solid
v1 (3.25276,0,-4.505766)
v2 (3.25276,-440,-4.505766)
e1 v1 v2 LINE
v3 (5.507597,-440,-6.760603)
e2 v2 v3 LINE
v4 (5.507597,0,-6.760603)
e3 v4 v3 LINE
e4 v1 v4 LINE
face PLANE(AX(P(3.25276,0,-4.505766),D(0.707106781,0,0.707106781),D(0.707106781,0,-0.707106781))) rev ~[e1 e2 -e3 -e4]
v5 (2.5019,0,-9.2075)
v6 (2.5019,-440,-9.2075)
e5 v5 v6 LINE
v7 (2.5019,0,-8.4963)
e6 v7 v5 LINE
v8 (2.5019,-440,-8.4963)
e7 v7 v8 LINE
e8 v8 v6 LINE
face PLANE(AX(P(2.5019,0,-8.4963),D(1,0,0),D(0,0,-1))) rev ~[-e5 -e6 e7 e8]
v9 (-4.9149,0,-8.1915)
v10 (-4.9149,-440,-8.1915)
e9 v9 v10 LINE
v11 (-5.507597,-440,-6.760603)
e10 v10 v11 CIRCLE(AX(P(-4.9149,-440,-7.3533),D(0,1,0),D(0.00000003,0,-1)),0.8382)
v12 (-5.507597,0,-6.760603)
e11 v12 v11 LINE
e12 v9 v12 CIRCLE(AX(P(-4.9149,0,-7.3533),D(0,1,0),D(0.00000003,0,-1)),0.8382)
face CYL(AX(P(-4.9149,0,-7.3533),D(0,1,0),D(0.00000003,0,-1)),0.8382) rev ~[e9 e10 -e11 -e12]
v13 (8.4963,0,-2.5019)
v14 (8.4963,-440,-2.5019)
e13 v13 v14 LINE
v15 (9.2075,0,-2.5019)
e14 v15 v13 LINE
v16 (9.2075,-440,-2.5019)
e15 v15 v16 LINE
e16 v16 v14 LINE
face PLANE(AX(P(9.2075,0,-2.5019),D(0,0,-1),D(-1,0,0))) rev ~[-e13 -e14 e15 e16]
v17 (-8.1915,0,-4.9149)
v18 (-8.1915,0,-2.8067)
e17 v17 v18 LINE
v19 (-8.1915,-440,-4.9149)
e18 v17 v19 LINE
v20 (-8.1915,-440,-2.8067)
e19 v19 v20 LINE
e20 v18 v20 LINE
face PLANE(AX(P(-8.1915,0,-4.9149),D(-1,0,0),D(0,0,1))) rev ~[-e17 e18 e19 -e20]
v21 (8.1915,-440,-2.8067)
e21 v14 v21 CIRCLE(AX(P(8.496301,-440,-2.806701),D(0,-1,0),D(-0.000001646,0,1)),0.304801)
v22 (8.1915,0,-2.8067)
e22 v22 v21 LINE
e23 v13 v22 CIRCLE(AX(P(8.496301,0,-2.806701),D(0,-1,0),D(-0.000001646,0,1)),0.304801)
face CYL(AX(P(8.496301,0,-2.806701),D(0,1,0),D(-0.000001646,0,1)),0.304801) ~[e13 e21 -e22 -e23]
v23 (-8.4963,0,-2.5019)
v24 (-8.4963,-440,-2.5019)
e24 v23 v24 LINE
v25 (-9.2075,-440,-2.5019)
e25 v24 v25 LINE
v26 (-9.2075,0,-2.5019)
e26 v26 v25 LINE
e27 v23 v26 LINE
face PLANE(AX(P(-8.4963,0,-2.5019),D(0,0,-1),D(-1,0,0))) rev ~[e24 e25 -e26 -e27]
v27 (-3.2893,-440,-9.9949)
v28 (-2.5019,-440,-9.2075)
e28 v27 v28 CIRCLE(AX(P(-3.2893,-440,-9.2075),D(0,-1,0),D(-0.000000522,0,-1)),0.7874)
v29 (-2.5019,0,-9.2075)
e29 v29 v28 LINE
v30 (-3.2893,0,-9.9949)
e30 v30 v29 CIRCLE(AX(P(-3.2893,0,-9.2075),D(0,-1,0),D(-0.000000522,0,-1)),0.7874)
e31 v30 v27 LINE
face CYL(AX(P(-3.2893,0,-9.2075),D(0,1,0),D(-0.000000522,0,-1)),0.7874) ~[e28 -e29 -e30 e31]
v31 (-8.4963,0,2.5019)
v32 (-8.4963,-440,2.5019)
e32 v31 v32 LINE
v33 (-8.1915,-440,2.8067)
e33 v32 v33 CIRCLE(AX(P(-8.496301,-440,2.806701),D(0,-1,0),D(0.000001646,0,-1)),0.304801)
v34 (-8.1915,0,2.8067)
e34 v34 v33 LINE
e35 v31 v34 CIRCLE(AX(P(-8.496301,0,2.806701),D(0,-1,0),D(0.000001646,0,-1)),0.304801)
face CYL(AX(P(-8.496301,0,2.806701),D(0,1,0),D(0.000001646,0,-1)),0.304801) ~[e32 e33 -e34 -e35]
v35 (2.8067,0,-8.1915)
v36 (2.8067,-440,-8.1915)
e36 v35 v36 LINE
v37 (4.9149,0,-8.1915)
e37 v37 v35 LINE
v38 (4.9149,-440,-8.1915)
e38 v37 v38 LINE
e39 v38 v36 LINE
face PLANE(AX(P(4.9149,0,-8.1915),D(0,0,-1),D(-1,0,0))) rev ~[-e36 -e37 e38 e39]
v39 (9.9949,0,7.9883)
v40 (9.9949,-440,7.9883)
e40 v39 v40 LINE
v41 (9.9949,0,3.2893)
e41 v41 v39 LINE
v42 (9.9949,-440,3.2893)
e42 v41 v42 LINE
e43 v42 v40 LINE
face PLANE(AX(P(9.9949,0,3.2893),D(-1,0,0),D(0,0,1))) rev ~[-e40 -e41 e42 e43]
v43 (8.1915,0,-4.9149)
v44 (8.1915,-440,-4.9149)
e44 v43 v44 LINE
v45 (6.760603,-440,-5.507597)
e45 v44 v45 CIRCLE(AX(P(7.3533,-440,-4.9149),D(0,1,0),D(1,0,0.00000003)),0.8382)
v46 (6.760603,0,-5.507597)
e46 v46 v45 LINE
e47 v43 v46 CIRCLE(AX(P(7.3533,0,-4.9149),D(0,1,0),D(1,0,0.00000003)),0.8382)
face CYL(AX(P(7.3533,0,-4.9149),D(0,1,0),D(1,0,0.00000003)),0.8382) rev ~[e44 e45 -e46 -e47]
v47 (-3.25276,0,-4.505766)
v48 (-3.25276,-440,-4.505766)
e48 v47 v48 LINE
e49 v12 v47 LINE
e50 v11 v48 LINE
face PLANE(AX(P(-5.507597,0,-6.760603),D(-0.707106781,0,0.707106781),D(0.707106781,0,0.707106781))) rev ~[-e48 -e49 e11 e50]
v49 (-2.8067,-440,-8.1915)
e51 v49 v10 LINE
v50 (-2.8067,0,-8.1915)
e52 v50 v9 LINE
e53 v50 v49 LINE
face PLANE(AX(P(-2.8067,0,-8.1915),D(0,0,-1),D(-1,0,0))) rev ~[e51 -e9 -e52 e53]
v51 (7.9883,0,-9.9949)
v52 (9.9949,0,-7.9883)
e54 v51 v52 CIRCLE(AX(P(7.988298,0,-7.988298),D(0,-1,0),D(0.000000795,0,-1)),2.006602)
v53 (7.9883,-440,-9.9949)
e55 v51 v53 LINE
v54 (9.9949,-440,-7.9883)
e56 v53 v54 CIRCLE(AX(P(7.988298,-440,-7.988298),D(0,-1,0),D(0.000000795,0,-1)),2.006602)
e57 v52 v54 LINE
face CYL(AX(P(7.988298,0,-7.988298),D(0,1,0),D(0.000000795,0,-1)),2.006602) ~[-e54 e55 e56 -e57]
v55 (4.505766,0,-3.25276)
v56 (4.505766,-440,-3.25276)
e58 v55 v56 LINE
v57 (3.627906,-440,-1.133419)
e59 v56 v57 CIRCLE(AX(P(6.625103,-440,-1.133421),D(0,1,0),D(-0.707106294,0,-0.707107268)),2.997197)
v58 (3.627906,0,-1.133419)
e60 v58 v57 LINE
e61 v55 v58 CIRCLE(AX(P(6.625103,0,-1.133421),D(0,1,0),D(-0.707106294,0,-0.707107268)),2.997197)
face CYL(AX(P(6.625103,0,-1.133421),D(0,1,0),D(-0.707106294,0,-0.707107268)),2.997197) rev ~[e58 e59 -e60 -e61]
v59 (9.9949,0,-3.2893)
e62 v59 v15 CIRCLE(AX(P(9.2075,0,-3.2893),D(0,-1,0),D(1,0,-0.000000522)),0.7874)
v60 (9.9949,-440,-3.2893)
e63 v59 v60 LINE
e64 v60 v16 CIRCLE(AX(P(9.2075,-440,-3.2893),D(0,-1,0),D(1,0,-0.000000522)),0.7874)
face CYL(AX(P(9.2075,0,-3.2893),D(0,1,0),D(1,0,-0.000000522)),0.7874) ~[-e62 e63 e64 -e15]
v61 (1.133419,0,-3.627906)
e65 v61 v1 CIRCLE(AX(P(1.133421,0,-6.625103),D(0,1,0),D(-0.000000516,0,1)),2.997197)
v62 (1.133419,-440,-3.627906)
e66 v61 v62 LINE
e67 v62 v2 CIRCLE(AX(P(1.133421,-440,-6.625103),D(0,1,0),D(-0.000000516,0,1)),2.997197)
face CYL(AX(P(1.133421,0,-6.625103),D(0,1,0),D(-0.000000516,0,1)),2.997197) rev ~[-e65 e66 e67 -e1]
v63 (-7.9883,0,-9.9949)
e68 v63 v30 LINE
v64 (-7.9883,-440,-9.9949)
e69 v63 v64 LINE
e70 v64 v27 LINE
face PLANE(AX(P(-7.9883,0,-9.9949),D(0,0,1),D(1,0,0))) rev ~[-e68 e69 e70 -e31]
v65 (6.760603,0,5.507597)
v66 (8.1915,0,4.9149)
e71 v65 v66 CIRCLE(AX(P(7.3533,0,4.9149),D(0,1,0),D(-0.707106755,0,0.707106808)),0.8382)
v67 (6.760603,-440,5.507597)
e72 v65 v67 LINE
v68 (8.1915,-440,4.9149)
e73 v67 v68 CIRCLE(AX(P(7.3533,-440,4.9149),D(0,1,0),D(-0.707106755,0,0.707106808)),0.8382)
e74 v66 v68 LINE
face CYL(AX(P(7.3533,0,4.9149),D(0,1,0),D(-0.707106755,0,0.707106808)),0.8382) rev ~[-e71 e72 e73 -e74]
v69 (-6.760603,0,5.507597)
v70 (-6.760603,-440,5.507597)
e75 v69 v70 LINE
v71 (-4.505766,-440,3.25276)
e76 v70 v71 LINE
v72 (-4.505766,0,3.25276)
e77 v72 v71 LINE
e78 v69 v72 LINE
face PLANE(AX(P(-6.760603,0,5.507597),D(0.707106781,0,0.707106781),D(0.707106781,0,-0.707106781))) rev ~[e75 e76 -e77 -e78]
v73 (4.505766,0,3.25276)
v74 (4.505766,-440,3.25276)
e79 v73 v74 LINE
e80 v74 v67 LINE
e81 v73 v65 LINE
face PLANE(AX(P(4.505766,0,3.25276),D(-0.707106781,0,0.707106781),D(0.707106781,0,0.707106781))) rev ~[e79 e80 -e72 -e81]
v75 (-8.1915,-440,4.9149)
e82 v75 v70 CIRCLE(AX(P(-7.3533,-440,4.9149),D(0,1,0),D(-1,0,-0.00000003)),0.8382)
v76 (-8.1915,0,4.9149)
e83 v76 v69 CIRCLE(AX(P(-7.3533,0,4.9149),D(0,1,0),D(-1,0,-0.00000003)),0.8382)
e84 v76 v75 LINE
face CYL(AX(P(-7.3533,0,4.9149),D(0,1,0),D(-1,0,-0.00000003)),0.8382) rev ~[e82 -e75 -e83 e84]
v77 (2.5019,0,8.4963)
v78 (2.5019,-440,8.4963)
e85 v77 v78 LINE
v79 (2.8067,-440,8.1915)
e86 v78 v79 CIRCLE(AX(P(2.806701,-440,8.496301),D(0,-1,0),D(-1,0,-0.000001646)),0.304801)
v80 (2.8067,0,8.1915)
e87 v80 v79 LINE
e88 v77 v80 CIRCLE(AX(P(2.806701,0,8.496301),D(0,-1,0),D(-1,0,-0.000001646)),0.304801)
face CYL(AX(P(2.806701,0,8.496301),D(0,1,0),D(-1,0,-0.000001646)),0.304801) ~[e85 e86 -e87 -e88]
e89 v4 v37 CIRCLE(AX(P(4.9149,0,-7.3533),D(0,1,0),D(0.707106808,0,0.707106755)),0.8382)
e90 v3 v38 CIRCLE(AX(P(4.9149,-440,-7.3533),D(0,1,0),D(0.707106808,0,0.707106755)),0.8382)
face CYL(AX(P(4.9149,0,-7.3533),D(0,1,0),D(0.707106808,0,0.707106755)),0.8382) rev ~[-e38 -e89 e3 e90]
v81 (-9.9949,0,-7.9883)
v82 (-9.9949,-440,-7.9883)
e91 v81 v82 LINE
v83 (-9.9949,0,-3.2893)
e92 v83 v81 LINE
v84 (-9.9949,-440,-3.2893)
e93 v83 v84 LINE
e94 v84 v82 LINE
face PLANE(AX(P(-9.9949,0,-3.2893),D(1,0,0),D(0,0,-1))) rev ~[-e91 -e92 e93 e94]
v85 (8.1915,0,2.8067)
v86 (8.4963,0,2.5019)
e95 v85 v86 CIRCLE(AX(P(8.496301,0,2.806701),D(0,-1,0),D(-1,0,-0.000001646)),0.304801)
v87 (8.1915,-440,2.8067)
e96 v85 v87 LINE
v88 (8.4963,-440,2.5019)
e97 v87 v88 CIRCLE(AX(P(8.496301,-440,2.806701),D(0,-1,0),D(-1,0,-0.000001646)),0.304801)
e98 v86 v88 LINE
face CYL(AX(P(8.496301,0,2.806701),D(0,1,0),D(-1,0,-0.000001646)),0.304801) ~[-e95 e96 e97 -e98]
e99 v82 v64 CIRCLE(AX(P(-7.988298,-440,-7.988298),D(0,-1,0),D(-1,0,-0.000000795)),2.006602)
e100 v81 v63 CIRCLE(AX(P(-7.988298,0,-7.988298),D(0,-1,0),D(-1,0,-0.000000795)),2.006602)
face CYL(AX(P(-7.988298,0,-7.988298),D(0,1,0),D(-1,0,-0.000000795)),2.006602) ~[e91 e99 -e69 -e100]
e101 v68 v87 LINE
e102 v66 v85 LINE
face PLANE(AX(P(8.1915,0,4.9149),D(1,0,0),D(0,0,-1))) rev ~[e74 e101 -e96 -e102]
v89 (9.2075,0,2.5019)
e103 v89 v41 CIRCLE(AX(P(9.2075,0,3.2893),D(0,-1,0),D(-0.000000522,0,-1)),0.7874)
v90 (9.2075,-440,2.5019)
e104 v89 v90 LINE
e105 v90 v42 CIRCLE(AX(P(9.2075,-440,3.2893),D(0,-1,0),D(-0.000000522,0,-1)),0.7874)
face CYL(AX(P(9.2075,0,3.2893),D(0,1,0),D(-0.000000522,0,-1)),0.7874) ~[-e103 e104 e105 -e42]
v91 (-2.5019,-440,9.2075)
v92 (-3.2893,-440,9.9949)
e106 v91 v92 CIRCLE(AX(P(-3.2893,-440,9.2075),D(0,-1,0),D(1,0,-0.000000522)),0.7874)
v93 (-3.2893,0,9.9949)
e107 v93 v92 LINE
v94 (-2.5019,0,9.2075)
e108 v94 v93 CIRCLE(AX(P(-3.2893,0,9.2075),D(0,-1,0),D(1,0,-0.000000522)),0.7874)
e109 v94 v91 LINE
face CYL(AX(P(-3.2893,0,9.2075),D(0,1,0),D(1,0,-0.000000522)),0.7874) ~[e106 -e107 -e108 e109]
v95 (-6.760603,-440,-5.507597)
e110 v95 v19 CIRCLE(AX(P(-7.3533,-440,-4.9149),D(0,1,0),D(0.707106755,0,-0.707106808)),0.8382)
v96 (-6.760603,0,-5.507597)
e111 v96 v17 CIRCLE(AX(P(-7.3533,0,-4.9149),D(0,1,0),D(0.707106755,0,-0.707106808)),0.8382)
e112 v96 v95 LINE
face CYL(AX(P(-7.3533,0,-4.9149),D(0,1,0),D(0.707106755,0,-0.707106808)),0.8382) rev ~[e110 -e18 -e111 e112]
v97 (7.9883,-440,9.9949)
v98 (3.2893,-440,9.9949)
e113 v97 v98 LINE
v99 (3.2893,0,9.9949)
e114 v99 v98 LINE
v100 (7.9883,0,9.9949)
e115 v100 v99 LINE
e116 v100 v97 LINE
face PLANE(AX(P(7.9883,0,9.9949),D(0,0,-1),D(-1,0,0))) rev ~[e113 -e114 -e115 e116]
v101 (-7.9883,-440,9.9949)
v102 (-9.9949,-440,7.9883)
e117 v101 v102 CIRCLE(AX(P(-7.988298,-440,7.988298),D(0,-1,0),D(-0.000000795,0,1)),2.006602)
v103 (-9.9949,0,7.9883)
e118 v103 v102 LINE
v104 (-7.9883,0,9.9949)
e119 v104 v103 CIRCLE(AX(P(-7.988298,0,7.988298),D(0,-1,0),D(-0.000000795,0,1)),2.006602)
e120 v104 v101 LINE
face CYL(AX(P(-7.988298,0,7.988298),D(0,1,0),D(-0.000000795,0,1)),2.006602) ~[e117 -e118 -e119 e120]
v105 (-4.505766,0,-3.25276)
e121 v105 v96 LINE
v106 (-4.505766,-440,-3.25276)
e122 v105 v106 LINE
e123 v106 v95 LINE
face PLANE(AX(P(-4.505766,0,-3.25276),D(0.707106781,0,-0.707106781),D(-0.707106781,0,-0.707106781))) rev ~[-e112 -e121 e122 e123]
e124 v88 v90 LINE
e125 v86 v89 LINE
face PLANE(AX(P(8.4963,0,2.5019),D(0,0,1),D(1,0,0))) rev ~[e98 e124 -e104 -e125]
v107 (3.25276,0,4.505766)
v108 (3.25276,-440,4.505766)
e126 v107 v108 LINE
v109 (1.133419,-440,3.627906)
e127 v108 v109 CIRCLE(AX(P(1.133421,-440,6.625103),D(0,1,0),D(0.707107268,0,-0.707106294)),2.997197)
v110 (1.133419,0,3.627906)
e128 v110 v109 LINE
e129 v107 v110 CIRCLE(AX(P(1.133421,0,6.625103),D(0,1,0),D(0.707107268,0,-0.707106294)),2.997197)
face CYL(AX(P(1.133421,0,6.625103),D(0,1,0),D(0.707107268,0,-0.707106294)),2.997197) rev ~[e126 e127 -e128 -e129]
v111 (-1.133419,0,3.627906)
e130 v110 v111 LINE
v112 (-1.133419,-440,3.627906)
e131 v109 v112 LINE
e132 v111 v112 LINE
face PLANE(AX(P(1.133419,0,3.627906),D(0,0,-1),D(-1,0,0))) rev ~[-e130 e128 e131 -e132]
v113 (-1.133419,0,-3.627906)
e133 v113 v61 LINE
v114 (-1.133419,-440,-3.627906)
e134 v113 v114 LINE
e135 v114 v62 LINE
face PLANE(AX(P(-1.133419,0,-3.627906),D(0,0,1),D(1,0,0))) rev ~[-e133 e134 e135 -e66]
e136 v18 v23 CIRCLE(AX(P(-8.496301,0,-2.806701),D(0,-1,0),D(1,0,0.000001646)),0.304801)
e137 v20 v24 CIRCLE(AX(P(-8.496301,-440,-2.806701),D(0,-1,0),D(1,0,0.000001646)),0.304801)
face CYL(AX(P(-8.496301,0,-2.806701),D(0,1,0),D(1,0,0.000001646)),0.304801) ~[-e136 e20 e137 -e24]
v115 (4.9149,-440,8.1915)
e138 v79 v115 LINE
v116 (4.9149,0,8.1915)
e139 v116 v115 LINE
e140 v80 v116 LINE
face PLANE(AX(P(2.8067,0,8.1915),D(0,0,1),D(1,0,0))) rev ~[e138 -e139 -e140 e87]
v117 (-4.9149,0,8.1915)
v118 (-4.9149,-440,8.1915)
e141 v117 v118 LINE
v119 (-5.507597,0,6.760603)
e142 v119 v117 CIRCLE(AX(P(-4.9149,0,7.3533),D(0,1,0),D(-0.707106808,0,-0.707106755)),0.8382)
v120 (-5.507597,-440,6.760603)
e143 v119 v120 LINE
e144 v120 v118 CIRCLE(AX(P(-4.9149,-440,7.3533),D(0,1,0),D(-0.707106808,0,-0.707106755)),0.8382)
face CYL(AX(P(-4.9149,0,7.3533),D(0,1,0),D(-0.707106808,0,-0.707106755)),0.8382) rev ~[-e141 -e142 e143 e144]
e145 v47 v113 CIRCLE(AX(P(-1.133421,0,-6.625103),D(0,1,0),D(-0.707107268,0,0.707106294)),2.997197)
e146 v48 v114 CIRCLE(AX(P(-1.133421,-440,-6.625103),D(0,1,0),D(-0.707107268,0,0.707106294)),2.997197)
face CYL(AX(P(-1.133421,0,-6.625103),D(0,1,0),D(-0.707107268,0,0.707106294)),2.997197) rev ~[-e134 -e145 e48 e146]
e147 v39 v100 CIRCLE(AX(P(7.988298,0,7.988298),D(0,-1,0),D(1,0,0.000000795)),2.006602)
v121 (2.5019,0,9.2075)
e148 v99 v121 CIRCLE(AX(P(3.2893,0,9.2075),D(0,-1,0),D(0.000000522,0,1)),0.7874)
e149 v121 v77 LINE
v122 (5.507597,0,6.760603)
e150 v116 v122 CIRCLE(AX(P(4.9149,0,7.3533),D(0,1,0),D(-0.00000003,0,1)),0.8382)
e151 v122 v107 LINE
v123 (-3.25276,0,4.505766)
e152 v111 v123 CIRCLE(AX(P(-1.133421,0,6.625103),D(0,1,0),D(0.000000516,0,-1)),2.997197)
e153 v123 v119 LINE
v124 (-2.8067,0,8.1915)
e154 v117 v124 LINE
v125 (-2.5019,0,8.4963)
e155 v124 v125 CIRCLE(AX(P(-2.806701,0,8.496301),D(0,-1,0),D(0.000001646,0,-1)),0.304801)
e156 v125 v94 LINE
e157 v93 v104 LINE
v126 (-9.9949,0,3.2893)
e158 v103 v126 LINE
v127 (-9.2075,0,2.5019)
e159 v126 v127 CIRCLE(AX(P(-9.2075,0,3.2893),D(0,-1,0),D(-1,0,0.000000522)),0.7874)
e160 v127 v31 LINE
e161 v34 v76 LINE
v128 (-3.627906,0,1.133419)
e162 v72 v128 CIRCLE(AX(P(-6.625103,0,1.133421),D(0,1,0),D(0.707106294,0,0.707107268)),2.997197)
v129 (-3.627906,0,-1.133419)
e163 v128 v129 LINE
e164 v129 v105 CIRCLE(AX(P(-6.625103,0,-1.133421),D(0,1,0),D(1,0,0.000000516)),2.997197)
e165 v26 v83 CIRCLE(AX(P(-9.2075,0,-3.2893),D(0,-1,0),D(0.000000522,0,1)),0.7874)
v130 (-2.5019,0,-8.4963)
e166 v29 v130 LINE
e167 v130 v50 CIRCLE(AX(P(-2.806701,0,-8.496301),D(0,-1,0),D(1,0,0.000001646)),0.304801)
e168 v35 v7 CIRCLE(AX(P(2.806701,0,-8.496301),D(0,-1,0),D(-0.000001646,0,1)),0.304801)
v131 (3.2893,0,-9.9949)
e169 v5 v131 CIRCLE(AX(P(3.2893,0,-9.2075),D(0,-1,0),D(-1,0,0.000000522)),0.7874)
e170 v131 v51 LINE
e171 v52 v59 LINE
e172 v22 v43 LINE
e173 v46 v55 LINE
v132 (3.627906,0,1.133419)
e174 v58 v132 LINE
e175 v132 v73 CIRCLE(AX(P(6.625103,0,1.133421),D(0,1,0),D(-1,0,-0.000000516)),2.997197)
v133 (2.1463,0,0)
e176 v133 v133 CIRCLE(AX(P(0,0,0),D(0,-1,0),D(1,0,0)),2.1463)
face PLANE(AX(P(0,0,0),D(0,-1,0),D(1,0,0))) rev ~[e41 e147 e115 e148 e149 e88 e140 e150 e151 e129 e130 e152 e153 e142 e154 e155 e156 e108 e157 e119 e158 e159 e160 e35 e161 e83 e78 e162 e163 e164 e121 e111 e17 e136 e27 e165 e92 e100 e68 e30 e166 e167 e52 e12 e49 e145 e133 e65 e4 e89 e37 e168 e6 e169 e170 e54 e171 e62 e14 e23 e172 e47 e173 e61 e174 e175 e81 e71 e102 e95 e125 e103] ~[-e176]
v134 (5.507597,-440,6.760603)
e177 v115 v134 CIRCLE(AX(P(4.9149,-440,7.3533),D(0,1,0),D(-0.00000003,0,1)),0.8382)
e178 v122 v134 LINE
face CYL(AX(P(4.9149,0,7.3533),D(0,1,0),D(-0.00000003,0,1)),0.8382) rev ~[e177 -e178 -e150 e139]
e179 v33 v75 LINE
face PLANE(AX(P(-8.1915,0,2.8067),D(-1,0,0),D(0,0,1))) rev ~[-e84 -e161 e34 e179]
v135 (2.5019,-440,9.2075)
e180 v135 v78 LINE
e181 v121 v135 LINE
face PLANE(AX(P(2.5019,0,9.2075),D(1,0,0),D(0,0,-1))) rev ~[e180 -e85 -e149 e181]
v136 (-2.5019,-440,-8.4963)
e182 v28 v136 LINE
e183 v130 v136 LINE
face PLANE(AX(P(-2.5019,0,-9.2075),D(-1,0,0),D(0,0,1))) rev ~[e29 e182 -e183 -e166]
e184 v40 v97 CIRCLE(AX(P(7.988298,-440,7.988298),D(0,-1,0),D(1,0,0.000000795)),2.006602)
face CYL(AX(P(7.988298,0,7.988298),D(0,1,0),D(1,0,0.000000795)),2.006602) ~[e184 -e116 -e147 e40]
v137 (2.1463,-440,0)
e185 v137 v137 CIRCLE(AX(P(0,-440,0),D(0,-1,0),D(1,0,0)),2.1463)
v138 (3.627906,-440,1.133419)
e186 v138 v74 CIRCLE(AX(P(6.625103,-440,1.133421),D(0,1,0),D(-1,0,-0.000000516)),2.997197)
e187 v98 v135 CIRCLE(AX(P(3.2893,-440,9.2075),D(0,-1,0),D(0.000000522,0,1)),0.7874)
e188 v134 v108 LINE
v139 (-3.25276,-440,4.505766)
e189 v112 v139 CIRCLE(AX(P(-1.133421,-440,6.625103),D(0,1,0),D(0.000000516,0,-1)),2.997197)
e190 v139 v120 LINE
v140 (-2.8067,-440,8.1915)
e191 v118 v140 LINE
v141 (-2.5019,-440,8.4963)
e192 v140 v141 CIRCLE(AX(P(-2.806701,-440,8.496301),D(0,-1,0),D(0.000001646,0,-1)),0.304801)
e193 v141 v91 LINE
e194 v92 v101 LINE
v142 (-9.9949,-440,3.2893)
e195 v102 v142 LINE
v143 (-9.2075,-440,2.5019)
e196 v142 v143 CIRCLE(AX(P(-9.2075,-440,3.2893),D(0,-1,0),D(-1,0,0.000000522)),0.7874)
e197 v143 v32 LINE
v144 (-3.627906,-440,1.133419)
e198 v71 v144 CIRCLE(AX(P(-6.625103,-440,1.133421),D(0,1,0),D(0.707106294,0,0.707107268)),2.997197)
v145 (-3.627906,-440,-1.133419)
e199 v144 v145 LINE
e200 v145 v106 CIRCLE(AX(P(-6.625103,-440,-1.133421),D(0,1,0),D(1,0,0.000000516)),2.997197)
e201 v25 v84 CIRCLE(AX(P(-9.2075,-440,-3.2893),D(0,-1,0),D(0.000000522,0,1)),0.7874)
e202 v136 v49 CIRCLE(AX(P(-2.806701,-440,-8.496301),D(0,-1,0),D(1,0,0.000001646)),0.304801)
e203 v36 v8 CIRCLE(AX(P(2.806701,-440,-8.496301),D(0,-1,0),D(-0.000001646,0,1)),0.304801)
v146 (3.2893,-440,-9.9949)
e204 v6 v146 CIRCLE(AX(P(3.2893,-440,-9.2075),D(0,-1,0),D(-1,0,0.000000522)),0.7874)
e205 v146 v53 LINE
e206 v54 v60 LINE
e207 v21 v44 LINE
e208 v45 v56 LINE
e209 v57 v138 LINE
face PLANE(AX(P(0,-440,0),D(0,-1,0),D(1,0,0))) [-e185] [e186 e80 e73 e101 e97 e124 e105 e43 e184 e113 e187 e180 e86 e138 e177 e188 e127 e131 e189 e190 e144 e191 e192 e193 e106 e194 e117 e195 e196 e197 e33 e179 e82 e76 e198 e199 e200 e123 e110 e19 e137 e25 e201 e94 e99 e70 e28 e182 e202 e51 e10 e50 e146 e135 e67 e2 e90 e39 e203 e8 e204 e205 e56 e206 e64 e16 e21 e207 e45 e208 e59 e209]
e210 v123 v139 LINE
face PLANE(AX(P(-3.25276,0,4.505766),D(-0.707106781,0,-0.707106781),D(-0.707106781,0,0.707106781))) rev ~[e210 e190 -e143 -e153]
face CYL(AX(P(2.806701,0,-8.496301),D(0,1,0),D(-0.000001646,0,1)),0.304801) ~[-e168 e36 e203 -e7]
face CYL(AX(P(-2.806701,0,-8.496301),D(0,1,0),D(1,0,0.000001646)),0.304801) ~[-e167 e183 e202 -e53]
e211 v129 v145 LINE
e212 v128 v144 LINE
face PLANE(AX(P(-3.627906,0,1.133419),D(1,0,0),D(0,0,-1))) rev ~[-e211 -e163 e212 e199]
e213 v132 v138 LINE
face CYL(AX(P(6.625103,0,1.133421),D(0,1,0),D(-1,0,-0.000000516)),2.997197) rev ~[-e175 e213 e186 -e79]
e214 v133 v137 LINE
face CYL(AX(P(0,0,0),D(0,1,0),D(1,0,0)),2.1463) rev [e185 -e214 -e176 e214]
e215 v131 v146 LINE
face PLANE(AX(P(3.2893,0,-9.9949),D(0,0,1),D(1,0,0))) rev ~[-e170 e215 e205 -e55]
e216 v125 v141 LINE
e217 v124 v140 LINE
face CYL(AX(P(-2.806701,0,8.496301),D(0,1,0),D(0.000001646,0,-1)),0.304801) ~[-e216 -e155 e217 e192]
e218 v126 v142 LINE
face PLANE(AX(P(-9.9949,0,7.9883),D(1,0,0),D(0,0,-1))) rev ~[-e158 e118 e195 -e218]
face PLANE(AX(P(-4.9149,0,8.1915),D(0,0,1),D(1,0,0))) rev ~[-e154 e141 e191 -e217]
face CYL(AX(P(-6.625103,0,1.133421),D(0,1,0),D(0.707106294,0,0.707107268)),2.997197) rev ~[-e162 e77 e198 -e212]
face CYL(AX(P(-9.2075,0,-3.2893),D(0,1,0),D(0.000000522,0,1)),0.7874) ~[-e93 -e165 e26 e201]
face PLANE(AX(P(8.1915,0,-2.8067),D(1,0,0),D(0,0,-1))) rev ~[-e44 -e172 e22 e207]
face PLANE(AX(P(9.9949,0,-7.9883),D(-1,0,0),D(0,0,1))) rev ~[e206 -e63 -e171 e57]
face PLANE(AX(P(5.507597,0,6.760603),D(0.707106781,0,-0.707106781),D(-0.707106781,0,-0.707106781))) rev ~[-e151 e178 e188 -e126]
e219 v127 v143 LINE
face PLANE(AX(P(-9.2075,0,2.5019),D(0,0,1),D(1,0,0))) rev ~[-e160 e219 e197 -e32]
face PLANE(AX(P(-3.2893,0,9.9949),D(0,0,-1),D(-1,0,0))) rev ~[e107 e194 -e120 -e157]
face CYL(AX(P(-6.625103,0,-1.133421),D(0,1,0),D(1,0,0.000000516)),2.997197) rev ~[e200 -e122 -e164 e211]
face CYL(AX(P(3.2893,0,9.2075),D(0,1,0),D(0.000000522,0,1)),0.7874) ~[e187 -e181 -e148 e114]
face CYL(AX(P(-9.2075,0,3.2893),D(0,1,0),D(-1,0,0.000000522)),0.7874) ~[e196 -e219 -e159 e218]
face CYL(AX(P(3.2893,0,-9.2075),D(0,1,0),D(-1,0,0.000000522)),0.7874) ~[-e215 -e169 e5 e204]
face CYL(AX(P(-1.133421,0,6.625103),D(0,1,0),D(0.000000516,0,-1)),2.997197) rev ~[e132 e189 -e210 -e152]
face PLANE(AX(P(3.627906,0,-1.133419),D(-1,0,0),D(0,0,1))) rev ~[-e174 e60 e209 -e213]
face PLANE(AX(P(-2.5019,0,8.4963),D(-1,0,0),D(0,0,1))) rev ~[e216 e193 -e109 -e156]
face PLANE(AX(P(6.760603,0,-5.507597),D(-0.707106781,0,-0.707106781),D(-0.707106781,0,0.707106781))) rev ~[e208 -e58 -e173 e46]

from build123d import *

# Parameters (mm, degrees)
F0_R     = 2.1463
F1_DEPTH = 440


with BuildPart() as f1:
    # F0 (on Front) → F1 (new body)
    with BuildSketch(Plane.XZ):
        with BuildLine():
            Line((-3.2893, 9.9949), (-7.9883, 9.9949))
            ThreePointArc((-7.9883, 9.9949), (-9.40718, 9.40718), (-9.9949, 7.9883))
            Line((-9.9949, 7.9883), (-9.9949, 3.2893))
            ThreePointArc((-9.9949, 3.2893), (-9.764276, 2.732524), (-9.2075, 2.5019))
            Line((-9.2075, 2.5019), (-8.4963, 2.5019))
            ThreePointArc((-8.4963, 2.5019), (-8.280774, 2.591174), (-8.1915, 2.8067))
            Line((-8.1915, 2.8067), (-8.1915, 4.9149))
            ThreePointArc((-8.1915, 4.9149), (-7.674065, 5.689296), (-6.760603, 5.507597))
            Line((-6.760603, 5.507597), (-4.505766, 3.25276))
            ThreePointArc((-4.505766, 3.25276), (-3.856054, 2.280398), (-3.627906, 1.133419))
            Line((-3.627906, 1.133419), (-3.627906, -1.133419))
            ThreePointArc((-3.627906, -1.133419), (-3.856054, -2.280398), (-4.505766, -3.25276))
            Line((-4.505766, -3.25276), (-6.760603, -5.507597))
            ThreePointArc((-6.760603, -5.507597), (-7.674065, -5.689296), (-8.1915, -4.9149))
            Line((-8.1915, -4.9149), (-8.1915, -2.8067))
            ThreePointArc((-8.1915, -2.8067), (-8.280774, -2.591174), (-8.4963, -2.5019))
            Line((-8.4963, -2.5019), (-9.2075, -2.5019))
            ThreePointArc((-9.2075, -2.5019), (-9.764276, -2.732524), (-9.9949, -3.2893))
            Line((-9.9949, -3.2893), (-9.9949, -7.9883))
            ThreePointArc((-9.9949, -7.9883), (-9.40718, -9.40718), (-7.9883, -9.9949))
            Line((-7.9883, -9.9949), (-3.2893, -9.9949))
            ThreePointArc((-3.2893, -9.9949), (-2.732524, -9.764276), (-2.5019, -9.2075))
            Line((-2.5019, -9.2075), (-2.5019, -8.4963))
            ThreePointArc((-2.5019, -8.4963), (-2.591174, -8.280774), (-2.8067, -8.1915))
            Line((-2.8067, -8.1915), (-4.9149, -8.1915))
            ThreePointArc((-4.9149, -8.1915), (-5.689296, -7.674065), (-5.507597, -6.760603))
            Line((-5.507597, -6.760603), (-3.25276, -4.505766))
            ThreePointArc((-3.25276, -4.505766), (-2.280398, -3.856054), (-1.133419, -3.627906))
            Line((-1.133419, -3.627906), (1.133419, -3.627906))
            ThreePointArc((1.133419, -3.627906), (2.280398, -3.856054), (3.25276, -4.505766))
            Line((3.25276, -4.505766), (5.507597, -6.760603))
            ThreePointArc((5.507597, -6.760603), (5.689296, -7.674065), (4.9149, -8.1915))
            Line((4.9149, -8.1915), (2.8067, -8.1915))
            ThreePointArc((2.8067, -8.1915), (2.591174, -8.280774), (2.5019, -8.4963))
            Line((2.5019, -8.4963), (2.5019, -9.2075))
            ThreePointArc((2.5019, -9.2075), (2.732524, -9.764276), (3.2893, -9.9949))
            Line((3.2893, -9.9949), (7.9883, -9.9949))
            ThreePointArc((7.9883, -9.9949), (9.40718, -9.40718), (9.9949, -7.9883))
            Line((9.9949, -7.9883), (9.9949, -3.2893))
            ThreePointArc((9.9949, -3.2893), (9.764276, -2.732524), (9.2075, -2.5019))
            Line((9.2075, -2.5019), (8.4963, -2.5019))
            ThreePointArc((8.4963, -2.5019), (8.280774, -2.591174), (8.1915, -2.8067))
            Line((8.1915, -2.8067), (8.1915, -4.9149))
            ThreePointArc((8.1915, -4.9149), (7.674065, -5.689296), (6.760603, -5.507597))
            Line((6.760603, -5.507597), (4.505766, -3.25276))
            ThreePointArc((4.505766, -3.25276), (3.856054, -2.280398), (3.627906, -1.133419))
            Line((3.627906, -1.133419), (3.627906, 1.133419))
            ThreePointArc((3.627906, 1.133419), (3.856054, 2.280398), (4.505766, 3.25276))
            Line((4.505766, 3.25276), (6.760603, 5.507597))
            ThreePointArc((6.760603, 5.507597), (7.674065, 5.689296), (8.1915, 4.9149))
            Line((8.1915, 4.9149), (8.1915, 2.8067))
            ThreePointArc((8.1915, 2.8067), (8.280774, 2.591174), (8.4963, 2.5019))
            Line((8.4963, 2.5019), (9.2075, 2.5019))
            ThreePointArc((9.2075, 2.5019), (9.764276, 2.732524), (9.9949, 3.2893))
            Line((9.9949, 3.2893), (9.9949, 7.9883))
            ThreePointArc((9.9949, 7.9883), (9.40718, 9.40718), (7.9883, 9.9949))
            Line((7.9883, 9.9949), (3.2893, 9.9949))
            ThreePointArc((3.2893, 9.9949), (2.732524, 9.764276), (2.5019, 9.2075))
            Line((2.5019, 9.2075), (2.5019, 8.4963))
            ThreePointArc((2.5019, 8.4963), (2.591174, 8.280774), (2.8067, 8.1915))
            Line((2.8067, 8.1915), (4.9149, 8.1915))
            ThreePointArc((4.9149, 8.1915), (5.689296, 7.674065), (5.507597, 6.760603))
            Line((5.507597, 6.760603), (3.25276, 4.505766))
            ThreePointArc((3.25276, 4.505766), (2.280398, 3.856054), (1.133419, 3.627906))
            Line((1.133419, 3.627906), (-1.133419, 3.627906))
            ThreePointArc((-1.133419, 3.627906), (-2.280398, 3.856054), (-3.25276, 4.505766))
            Line((-3.25276, 4.505766), (-5.507597, 6.760603))
            ThreePointArc((-5.507597, 6.760603), (-5.689296, 7.674065), (-4.9149, 8.1915))
            Line((-4.9149, 8.1915), (-2.8067, 8.1915))
            ThreePointArc((-2.8067, 8.1915), (-2.591174, 8.280774), (-2.5019, 8.4963))
            Line((-2.5019, 8.4963), (-2.5019, 9.2075))
            ThreePointArc((-2.5019, 9.2075), (-2.732524, 9.764276), (-3.2893, 9.9949))
        make_face()
        Circle(F0_R, mode=Mode.SUBTRACT)
    extrude(amount=F1_DEPTH)


solid = f1.part
